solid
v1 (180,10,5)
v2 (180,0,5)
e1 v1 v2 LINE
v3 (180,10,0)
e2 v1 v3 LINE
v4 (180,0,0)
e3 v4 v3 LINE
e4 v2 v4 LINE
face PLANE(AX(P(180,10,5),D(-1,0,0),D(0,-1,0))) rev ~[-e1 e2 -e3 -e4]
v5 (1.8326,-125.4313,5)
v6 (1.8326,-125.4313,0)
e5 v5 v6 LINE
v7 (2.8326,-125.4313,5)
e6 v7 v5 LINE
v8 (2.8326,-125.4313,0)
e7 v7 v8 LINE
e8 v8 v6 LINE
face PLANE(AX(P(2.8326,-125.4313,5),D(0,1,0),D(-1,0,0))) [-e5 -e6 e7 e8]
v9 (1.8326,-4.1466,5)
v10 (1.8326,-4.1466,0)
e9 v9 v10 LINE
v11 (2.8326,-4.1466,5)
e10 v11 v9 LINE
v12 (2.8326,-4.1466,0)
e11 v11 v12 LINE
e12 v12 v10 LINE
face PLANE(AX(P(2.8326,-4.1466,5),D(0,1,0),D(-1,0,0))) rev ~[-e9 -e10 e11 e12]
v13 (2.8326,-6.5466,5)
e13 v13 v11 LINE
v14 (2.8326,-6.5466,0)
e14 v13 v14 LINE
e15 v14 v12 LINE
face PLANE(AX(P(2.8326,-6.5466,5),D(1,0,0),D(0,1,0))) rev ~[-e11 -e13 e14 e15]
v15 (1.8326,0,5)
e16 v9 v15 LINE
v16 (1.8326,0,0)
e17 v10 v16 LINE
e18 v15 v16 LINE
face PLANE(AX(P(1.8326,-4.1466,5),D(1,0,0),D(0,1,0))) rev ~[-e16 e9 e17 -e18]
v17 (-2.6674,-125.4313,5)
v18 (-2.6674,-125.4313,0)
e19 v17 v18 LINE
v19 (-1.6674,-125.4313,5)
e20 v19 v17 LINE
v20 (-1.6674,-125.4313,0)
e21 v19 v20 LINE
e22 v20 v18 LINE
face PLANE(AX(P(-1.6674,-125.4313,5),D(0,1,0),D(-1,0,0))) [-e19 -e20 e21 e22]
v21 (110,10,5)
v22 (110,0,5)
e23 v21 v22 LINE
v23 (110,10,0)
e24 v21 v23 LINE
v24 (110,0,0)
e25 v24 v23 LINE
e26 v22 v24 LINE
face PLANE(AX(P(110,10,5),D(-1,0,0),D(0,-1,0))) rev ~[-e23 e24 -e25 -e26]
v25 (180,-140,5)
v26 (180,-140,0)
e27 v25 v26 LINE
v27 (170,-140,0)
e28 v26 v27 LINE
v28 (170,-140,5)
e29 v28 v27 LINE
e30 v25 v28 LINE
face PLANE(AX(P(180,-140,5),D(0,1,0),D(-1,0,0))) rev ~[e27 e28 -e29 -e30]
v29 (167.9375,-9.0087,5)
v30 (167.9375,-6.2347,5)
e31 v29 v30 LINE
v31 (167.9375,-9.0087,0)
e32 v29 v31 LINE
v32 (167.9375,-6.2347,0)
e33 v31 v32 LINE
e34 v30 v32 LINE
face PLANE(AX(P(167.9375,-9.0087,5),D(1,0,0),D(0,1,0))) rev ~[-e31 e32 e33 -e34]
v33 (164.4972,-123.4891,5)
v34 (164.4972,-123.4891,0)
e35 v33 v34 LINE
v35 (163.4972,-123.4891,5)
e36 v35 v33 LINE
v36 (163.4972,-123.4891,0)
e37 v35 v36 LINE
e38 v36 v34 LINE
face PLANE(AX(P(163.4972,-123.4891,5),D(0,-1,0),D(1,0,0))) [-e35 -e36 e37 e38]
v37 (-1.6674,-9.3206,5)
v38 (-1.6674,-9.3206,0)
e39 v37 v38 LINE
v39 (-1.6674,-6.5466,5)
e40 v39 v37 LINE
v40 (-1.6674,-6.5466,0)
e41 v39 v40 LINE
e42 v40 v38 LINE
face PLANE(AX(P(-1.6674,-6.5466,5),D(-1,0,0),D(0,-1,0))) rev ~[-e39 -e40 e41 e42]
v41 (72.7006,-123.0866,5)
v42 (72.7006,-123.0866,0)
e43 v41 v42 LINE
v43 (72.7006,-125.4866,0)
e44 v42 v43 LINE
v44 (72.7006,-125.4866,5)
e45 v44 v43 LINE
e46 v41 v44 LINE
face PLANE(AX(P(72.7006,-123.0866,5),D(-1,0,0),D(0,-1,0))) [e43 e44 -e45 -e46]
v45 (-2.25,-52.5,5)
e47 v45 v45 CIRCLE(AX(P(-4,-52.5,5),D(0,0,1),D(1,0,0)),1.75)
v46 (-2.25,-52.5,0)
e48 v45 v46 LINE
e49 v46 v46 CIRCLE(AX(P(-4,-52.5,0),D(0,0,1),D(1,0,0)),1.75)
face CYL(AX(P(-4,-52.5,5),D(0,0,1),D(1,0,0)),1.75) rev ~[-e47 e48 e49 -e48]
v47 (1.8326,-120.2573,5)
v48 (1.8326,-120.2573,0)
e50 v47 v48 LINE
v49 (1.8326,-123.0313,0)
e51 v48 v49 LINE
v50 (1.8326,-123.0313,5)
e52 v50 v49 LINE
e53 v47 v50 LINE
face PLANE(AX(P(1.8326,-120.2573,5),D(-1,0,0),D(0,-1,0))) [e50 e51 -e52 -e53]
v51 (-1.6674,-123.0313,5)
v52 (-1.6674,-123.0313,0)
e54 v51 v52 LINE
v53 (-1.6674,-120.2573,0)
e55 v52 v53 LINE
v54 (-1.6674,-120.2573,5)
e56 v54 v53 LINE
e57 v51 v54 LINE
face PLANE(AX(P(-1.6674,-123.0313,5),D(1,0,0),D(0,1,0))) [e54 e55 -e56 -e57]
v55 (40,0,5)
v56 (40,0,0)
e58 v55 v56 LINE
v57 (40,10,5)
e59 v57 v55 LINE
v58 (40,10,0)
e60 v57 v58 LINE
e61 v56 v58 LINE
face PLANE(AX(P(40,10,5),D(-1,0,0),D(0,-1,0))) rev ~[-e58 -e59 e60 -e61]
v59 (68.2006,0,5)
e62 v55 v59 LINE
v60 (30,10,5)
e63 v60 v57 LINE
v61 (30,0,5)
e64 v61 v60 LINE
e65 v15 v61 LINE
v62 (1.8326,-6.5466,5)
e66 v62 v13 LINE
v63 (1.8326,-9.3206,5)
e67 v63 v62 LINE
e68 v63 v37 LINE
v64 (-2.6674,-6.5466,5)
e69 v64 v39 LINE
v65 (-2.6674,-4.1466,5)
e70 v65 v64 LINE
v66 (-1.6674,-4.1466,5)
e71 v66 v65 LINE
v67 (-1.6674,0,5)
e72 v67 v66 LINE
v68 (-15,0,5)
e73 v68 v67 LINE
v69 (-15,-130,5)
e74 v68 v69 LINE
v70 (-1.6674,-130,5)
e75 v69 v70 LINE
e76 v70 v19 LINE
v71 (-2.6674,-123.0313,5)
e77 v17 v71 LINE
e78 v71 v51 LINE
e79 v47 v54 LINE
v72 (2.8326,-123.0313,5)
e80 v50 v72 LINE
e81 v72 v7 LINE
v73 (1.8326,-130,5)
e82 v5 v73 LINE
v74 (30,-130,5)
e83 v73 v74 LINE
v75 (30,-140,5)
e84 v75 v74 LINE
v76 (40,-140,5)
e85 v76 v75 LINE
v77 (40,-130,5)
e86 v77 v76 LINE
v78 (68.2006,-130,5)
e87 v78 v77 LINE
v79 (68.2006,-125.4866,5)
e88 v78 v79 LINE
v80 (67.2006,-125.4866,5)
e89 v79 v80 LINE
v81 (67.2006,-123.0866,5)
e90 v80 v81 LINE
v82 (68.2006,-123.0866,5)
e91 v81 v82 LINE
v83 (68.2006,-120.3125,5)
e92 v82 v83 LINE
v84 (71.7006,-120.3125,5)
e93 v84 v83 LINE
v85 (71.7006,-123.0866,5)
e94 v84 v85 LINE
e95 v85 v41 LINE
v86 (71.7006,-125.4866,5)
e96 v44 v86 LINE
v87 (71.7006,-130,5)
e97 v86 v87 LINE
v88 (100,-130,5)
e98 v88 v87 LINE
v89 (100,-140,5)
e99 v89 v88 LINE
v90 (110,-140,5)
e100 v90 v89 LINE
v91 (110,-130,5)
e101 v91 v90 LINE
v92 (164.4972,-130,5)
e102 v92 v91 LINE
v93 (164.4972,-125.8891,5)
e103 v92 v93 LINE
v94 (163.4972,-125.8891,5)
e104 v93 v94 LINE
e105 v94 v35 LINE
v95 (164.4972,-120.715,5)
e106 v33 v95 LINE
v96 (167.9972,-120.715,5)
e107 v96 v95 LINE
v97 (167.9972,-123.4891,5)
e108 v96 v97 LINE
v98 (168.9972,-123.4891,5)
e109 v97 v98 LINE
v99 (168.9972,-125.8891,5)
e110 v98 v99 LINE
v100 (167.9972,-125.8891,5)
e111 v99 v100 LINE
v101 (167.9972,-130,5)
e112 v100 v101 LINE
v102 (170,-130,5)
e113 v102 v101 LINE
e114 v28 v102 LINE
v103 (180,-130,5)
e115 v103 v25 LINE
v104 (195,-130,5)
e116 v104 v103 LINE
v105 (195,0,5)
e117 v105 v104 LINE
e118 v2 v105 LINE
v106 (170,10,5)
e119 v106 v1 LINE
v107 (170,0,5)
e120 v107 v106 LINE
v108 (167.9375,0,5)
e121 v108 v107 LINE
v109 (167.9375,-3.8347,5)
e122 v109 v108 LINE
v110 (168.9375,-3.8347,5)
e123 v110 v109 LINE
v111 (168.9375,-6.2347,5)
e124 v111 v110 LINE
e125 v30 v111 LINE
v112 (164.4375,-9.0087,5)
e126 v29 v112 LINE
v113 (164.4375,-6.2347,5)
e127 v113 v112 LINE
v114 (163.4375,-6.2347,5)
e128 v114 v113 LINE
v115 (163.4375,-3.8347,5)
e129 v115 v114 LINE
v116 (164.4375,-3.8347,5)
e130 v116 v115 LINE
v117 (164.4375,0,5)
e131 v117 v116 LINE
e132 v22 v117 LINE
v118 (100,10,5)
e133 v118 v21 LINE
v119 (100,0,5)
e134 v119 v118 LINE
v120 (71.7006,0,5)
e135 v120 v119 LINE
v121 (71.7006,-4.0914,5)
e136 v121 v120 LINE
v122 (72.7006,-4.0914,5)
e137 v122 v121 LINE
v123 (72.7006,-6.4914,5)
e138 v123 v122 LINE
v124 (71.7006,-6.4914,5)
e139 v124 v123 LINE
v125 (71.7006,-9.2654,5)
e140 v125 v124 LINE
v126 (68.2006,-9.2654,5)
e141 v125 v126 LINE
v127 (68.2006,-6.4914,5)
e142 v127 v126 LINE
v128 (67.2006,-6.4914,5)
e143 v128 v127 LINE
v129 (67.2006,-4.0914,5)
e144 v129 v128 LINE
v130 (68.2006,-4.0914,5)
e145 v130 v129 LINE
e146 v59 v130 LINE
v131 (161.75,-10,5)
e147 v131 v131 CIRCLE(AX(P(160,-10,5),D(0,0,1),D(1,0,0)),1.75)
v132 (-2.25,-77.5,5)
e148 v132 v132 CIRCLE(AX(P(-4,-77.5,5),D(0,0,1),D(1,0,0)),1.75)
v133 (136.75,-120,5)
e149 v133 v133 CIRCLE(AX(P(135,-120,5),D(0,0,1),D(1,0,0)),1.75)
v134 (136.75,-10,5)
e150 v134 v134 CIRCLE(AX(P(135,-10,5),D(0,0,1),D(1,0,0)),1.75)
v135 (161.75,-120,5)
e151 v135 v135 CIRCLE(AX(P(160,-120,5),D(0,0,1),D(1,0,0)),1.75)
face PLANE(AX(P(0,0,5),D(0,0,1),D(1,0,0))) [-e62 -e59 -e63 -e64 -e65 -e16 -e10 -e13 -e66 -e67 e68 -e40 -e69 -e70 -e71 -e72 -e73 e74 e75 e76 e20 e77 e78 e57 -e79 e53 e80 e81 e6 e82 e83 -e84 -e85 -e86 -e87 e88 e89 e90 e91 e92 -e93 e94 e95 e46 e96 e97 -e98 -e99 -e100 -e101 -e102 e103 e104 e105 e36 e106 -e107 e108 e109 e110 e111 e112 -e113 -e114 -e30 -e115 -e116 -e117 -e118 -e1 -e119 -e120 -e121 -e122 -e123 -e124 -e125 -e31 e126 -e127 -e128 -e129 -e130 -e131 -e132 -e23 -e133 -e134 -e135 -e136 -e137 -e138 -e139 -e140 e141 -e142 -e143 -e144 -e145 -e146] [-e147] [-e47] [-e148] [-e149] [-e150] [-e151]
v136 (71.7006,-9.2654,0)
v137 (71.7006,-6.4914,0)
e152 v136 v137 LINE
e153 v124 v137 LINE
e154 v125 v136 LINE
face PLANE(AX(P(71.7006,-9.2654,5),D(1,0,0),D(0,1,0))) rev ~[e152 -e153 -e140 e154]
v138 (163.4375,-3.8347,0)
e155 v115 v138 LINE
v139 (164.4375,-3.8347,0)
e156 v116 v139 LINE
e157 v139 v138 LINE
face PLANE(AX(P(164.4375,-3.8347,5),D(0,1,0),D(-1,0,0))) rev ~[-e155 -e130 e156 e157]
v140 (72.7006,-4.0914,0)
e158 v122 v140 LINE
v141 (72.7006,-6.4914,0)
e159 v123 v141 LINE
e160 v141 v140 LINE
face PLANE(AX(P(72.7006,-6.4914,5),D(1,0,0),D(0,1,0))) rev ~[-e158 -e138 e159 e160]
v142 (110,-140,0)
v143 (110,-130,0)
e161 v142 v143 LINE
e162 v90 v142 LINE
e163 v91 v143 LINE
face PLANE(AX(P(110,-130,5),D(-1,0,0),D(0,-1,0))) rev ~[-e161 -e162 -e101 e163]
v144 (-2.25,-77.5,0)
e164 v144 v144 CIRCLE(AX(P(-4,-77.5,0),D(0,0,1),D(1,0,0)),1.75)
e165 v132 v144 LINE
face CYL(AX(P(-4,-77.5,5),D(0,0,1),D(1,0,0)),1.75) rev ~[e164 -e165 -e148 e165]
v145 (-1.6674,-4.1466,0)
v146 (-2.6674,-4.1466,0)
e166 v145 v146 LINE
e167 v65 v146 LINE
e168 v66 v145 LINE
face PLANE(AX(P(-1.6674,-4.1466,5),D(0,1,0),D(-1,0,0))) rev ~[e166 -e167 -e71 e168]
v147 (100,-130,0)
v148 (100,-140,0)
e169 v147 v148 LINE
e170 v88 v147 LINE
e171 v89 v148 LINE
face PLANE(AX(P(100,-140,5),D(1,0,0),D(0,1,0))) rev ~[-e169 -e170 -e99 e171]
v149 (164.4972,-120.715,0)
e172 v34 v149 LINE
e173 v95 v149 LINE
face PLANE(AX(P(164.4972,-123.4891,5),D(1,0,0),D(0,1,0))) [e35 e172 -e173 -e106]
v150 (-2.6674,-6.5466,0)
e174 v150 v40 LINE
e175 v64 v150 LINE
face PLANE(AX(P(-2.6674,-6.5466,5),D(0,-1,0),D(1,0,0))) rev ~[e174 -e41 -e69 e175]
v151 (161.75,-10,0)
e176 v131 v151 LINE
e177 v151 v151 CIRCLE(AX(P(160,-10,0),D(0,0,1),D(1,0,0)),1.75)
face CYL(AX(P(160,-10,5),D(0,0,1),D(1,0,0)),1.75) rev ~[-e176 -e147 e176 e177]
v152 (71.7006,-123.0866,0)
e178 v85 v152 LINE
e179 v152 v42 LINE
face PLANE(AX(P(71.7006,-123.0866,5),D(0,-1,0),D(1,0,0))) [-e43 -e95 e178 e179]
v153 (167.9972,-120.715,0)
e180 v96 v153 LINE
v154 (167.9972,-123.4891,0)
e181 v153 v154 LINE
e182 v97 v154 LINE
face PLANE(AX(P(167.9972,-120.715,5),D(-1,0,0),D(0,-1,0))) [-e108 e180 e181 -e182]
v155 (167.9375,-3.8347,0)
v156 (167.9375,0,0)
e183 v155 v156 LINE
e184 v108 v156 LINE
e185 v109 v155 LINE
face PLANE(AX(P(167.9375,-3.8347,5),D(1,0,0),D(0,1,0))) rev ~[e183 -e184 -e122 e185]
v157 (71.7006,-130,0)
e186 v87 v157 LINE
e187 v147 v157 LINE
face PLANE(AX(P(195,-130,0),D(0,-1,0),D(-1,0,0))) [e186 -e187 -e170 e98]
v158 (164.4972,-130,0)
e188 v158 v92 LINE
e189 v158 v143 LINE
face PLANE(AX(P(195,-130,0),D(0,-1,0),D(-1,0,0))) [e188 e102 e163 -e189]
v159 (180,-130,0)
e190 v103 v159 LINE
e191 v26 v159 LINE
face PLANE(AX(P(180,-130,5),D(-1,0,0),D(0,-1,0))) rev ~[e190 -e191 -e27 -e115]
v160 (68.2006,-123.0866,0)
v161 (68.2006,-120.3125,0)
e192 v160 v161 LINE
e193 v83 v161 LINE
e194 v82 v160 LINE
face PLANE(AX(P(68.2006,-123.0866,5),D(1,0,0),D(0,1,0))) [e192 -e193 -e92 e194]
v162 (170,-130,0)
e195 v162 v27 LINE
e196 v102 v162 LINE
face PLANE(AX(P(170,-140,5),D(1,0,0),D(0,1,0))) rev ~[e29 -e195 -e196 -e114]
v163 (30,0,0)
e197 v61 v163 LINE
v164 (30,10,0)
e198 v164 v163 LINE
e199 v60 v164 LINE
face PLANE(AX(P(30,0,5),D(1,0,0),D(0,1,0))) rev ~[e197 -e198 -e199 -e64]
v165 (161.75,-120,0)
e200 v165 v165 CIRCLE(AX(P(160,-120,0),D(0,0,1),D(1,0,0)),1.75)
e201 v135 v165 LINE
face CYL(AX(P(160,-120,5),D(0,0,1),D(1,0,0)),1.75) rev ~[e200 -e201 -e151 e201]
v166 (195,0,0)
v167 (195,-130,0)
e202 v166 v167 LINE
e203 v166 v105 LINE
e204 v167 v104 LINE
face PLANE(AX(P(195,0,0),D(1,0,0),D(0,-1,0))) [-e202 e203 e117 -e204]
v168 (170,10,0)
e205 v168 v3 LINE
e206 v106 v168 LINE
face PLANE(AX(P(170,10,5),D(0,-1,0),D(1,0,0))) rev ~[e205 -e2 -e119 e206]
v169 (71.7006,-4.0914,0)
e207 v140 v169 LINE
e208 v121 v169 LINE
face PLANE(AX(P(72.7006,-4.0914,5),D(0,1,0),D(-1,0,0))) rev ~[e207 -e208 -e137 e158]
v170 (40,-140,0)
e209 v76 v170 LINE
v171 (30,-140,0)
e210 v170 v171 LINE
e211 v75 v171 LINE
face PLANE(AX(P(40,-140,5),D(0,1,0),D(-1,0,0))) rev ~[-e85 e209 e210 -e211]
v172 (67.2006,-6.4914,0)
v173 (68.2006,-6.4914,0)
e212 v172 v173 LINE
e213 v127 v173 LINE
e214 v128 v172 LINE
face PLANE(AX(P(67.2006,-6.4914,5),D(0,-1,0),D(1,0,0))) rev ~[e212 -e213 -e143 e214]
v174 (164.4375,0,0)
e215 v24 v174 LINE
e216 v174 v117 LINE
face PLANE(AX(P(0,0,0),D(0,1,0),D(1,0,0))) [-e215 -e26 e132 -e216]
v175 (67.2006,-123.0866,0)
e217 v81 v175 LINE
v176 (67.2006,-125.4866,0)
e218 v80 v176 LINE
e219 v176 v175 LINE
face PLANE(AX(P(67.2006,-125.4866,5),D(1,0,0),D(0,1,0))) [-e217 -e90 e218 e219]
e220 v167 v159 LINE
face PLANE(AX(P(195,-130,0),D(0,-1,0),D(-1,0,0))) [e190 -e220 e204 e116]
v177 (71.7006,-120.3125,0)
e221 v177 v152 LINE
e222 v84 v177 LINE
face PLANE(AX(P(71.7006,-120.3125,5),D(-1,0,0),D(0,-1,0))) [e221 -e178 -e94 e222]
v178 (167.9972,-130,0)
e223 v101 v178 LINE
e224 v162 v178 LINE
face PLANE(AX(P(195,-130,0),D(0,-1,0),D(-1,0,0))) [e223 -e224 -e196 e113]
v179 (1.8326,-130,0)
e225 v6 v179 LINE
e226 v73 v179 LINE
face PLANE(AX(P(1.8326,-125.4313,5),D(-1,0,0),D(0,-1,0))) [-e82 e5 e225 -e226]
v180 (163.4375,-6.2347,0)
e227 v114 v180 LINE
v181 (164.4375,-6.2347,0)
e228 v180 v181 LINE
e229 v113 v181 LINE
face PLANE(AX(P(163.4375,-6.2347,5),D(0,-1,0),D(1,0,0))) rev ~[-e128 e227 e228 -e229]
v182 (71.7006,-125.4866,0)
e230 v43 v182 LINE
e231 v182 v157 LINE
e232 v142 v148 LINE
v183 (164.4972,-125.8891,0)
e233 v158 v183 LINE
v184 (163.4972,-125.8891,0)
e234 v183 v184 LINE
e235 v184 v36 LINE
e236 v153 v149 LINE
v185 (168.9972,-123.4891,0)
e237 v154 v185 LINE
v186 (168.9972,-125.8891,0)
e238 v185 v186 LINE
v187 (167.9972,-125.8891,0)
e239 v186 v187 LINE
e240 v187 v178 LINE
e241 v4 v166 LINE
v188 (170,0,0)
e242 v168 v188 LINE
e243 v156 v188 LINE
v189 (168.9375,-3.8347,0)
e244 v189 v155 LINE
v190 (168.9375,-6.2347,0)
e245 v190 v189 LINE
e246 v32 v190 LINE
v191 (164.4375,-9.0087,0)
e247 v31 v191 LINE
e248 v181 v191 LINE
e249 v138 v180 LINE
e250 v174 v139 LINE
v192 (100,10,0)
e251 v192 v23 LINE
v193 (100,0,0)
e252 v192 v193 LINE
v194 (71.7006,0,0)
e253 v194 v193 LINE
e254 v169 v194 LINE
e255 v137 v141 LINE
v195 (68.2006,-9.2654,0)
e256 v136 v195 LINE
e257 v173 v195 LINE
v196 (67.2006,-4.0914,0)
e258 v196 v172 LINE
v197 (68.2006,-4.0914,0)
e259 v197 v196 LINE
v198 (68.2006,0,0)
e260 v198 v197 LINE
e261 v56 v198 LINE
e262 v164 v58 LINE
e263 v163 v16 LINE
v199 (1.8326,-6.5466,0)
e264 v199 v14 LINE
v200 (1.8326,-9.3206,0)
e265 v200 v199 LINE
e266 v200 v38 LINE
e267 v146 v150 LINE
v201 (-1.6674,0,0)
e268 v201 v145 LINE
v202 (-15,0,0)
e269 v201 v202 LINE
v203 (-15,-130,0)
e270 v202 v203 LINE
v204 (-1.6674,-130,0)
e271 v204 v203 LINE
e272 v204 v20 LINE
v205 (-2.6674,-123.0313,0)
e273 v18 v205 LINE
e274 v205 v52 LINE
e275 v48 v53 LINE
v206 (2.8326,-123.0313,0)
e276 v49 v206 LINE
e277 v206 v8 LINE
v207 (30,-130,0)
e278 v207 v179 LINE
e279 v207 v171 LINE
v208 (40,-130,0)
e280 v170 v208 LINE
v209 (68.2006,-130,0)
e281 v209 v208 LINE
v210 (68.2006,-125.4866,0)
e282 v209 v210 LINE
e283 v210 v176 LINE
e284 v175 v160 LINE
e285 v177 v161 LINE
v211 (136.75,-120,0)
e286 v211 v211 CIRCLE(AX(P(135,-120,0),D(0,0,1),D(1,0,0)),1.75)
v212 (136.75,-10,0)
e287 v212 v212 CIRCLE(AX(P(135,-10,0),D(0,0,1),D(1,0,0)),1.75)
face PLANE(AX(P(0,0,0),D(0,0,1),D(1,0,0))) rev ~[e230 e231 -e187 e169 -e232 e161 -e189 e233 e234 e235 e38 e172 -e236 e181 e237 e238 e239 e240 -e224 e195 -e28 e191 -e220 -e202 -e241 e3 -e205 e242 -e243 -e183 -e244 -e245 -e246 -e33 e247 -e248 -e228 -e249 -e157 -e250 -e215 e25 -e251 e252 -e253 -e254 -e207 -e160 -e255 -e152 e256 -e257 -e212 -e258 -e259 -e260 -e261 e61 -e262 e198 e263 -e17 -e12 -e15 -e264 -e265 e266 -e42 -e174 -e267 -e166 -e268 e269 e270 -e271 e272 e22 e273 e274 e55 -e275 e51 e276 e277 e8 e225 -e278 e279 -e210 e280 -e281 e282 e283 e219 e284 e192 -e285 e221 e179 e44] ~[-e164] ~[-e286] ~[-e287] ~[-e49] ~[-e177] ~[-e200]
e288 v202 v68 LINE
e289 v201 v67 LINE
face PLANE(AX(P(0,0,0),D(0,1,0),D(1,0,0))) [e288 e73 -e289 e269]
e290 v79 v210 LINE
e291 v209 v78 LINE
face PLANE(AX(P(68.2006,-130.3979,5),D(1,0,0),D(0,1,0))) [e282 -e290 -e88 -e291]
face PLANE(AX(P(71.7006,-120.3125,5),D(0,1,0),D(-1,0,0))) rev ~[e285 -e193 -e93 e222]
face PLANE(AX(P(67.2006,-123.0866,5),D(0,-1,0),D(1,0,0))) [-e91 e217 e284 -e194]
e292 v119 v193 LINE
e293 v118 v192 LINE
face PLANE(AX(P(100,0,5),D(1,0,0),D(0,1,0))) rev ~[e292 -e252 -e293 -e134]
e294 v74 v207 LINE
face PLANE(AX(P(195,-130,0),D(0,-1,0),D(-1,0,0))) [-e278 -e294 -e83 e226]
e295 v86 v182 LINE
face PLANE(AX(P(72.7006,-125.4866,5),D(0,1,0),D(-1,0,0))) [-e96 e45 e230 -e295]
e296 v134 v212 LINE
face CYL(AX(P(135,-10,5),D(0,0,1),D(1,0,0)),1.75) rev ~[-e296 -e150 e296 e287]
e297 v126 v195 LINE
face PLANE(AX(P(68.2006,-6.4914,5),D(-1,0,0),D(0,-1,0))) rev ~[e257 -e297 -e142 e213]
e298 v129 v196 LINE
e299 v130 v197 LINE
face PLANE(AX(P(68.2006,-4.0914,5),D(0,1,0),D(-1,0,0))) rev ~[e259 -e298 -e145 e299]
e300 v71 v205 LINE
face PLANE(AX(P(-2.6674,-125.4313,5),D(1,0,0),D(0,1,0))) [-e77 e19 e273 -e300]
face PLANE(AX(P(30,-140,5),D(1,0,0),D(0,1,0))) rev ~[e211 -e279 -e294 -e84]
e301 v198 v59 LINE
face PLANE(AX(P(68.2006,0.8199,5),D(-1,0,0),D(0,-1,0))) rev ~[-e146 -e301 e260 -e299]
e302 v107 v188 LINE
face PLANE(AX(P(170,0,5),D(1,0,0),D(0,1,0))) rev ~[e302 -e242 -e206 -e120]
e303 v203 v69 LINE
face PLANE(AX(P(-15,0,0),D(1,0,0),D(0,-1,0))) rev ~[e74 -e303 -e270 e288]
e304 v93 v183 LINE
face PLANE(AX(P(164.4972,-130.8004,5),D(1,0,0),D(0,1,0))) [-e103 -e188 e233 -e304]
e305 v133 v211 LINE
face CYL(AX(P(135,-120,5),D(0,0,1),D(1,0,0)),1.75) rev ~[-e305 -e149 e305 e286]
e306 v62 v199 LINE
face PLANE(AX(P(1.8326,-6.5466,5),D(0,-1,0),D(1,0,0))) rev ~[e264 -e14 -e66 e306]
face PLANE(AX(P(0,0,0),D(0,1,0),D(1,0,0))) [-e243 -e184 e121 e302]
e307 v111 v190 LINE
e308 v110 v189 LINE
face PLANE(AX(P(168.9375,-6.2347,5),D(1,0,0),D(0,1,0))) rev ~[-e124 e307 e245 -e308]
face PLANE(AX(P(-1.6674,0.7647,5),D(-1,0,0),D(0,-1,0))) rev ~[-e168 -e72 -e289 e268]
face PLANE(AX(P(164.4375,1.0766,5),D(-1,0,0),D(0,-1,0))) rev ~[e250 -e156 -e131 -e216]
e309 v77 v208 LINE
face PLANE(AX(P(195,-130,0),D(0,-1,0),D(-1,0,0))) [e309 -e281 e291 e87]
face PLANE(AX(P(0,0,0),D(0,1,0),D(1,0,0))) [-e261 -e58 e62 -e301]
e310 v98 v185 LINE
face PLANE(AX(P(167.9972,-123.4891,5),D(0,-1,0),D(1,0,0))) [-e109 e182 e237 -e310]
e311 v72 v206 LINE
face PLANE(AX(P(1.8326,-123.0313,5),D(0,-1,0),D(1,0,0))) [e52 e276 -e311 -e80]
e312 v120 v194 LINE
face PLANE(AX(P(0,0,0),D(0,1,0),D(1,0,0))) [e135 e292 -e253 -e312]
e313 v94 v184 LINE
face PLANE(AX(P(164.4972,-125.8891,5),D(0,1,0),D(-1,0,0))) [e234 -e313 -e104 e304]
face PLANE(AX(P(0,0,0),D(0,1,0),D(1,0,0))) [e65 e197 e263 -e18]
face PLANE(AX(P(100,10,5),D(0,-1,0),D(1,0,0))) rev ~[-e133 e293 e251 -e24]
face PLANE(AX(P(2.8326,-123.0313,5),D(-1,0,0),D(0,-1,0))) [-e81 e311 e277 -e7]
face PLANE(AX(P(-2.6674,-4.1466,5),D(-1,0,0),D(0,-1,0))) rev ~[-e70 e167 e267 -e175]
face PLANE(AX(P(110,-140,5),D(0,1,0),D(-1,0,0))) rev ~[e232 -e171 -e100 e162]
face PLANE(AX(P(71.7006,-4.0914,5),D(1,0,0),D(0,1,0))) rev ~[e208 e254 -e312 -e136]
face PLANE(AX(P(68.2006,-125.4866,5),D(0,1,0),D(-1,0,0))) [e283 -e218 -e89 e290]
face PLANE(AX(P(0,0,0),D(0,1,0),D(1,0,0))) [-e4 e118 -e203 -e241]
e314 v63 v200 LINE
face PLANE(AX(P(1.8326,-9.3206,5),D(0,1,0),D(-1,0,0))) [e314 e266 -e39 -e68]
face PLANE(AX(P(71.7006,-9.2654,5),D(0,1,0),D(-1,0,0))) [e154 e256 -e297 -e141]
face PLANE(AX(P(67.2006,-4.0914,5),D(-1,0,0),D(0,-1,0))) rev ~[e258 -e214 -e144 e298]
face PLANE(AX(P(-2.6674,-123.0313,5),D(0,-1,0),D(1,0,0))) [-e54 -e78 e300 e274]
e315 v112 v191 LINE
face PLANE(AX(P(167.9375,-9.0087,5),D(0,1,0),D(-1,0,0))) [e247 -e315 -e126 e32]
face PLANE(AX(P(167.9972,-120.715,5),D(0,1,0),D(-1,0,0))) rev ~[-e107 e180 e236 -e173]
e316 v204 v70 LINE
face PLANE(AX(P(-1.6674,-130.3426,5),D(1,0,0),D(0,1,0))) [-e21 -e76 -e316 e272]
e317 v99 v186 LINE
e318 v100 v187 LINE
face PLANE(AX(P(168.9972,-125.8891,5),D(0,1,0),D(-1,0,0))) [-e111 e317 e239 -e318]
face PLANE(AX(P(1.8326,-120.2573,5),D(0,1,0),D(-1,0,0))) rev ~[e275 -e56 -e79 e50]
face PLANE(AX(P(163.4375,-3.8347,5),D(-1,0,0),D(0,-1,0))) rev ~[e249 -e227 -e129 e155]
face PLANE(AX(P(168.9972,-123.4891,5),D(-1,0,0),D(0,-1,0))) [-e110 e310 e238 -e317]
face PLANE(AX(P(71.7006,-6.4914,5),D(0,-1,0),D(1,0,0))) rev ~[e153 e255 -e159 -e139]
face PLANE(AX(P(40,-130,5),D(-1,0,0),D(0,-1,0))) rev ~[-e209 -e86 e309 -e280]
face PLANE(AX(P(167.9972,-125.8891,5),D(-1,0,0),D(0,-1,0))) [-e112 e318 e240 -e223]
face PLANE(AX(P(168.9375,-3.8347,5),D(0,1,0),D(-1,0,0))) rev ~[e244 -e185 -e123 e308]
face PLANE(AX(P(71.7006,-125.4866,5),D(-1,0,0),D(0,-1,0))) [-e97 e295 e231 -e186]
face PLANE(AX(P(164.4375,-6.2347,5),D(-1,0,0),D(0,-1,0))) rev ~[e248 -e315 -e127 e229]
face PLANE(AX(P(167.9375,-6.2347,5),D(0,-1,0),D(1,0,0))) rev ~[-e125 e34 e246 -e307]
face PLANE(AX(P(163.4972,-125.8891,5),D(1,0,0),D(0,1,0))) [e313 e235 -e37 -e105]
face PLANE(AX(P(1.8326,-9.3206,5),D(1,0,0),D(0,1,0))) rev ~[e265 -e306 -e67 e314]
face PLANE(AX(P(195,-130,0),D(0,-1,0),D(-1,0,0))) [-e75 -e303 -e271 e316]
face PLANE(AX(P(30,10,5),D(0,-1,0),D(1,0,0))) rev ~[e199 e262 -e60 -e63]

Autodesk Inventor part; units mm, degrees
ref_plane "YZ Plane" through (0, 0, 0) normal (1, 0, 0) x (0, 1, 0)
ref_plane "XZ Plane" through (0, 0, 0) normal (0, 1, 0) x (-1, 0, 0)
ref_plane "XY Plane" through (0, 0, 0) normal (0, 0, 1) x (1, 0, 0)
sketch "Boceto1" plane through (0, 0, 0) normal (0, 0, 1) x (1, 0, 0)
  line L0 (0, 0) -> (195, 0)
  line L1 (195, 0) -> (195, -130)
  line L2 (195, -130) -> (0, -130)
  line L3 (-15, 0) -> (-15, -130)
  line L4 (0, -130) -> (-15, -130)
  line L5 (0, 0) -> (-15, 0)
  dimension "d1" = 130
extrude "Extrusión1" add sketch "Boceto1" along normal blind 5
sketch "Boceto2" plane through (0, 0, 5) normal (0, 0, 1) x (1, 0, 0)
  line L0 (-15, 0) -> (195, 0) projected
  line L1 (195, -130) -> (-15, -130) projected
  line L2 (30, 0) -> (40, 0)
  line L3 (100, 0) -> (110, 0)
  line L4 (170, 0) -> (180, 0)
  line L5 (170, -130) -> (180, -130)
  line L6 (100, -130) -> (110, -130)
  line L7 (30, -130) -> (40, -130)
  line L8 (40, 5) -> (40, 0)
  line L9 (40, -130) -> (40, -135)
  line L10 (30, -135) -> (30, -130)
  line L11 (30, 0) -> (30, 5)
  line L12 (110, 5) -> (110, 0)
  line L13 (110, -130) -> (110, -135)
  line L14 (100, -135) -> (100, -130)
  line L15 (100, 0) -> (100, 5)
  line L16 (180, 5) -> (180, 0)
  line L17 (180, -130) -> (180, -135)
  line L18 (170, -135) -> (170, -130)
  line L19 (170, 0) -> (170, 5)
  line L20 (30, 5) -> (30, 10)
  line L21 (40, 10) -> (40, 5)
  line L22 (100, 5) -> (100, 10)
  line L23 (110, 10) -> (110, 5)
  line L24 (170, 5) -> (170, 10)
  line L25 (180, 10) -> (180, 5)
  line L26 (40, -135) -> (40, -140)
  line L27 (30, -140) -> (30, -135)
  line L28 (110, -135) -> (110, -140)
  line L29 (100, -140) -> (100, -135)
  line L30 (180, -135) -> (180, -140)
  line L31 (170, -140) -> (170, -135)
  line L32 (170, 10) -> (180, 10)
  line L33 (30, 10) -> (40, 10)
  line L34 (100, 10) -> (110, 10)
  line L35 (180, -140) -> (170, -140)
  line L36 (110, -140) -> (100, -140)
  line L37 (40, -140) -> (30, -140)
extrude "Extrusión2" add sketch "Boceto2" against normal blind 5
sketch "Boceto3" plane through (0, 0, 5) normal (0, 0, 1) x (1, 0, 0)
  line L0 (195, 0) -> (195, -130) projected
  line L1 (180, 0) -> (195, 0) projected
  line L2 (-15, -130) -> (-15, 0) projected
  circle A0 centre (135, -120) radius 1.75
  circle A1 centre (160, -120) radius 1.75
  circle A2 centre (135, -10) radius 1.75
  circle A3 centre (160, -10) radius 1.75
  circle A4 centre (-4, -52.5) radius 1.75
  circle A5 centre (-4, -77.5) radius 1.75
  point P0 (30, 0)
  point P1 (30, -130)
  point P2 (0, 0)
  dimension "d20" = 3.5
  dimension "d21" = 3.5
  dimension "d22" = 3.5
  dimension "d23" = 3.5
  dimension "d24" = 3.5
  dimension "d25" = 3.5
  dimension "d26" = 25
  dimension "d27" = 25
  dimension "d28" = 25
  dimension "d29" = 10
  dimension "d30" = 10
  dimension "d31" = 150
  dimension "d32" = 150
  dimension "d33" = 52.5
  dimension "d34" = 199
extrude "Extrusión3" cut sketch "Boceto3" against normal blind 10
sketch "Boceto4" plane through (0, 0, 5) normal (0, 0, 1) x (1, 0, 0)
  line L0 (-1.6674, -130.3426) -> (-1.6674, -125.4313)
  line L1 (1.8326, -130.3426) -> (-1.6674, -130.3426)
  line L2 (1.8326, -125.4313) -> (1.8326, -130.3426)
  line L3 (-1.6674, -125.4313) -> (-2.6674, -125.4313)
  line L4 (-2.6674, -123.0313) -> (-1.6674, -123.0313)
  line L5 (-1.6674, -123.0313) -> (-1.6674, -120.2573)
  line L6 (1.8326, -120.2573) -> (1.8326, -123.0313)
  line L7 (2.8326, -125.4313) -> (1.8326, -125.4313)
  line L8 (2.8326, -123.0313) -> (2.8326, -125.4313)
  line L9 (1.8326, -123.0313) -> (2.8326, -123.0313)
  line L10 (1.8326, -120.2573) -> (-1.6674, -120.2573)
  line L11 (-2.6674, -125.4313) -> (-2.6674, -123.0313)
  line L12 (167.9972, -120.715) -> (164.4972, -120.715)
  line L13 (167.9972, -120.715) -> (167.9972, -123.4891)
  line L14 (164.4972, -123.4891) -> (164.4972, -120.715)
  line L15 (167.9972, -123.4891) -> (168.9972, -123.4891)
  line L16 (168.9972, -123.4891) -> (168.9972, -125.8891)
  line L17 (163.4972, -125.8891) -> (163.4972, -123.4891)
  line L18 (164.4972, -125.8891) -> (163.4972, -125.8891)
  line L19 (168.9972, -125.8891) -> (167.9972, -125.8891)
  line L20 (163.4972, -123.4891) -> (164.4972, -123.4891)
  line L21 (164.4972, -130.8004) -> (164.4972, -125.8891)
  line L22 (167.9972, -130.8004) -> (164.4972, -130.8004)
  line L23 (167.9972, -125.8891) -> (167.9972, -130.8004)
  line L24 (71.7006, -120.3125) -> (68.2006, -120.3125)
  line L25 (71.7006, -120.3125) -> (71.7006, -123.0866)
  line L26 (68.2006, -123.0866) -> (68.2006, -120.3125)
  line L27 (71.7006, -123.0866) -> (72.7006, -123.0866)
  line L28 (72.7006, -123.0866) -> (72.7006, -125.4866)
  line L29 (67.2006, -125.4866) -> (67.2006, -123.0866)
  line L30 (68.2006, -125.4866) -> (67.2006, -125.4866)
  line L31 (72.7006, -125.4866) -> (71.7006, -125.4866)
  line L32 (67.2006, -123.0866) -> (68.2006, -123.0866)
  line L33 (68.2006, -130.3979) -> (68.2006, -125.4866)
  line L34 (71.7006, -130.3979) -> (68.2006, -130.3979)
  line L35 (71.7006, -125.4866) -> (71.7006, -130.3979)
  line L36 (1.8326, -9.3206) -> (-1.6674, -9.3206)
  line L37 (1.8326, -9.3206) -> (1.8326, -6.5466)
  line L38 (-1.6674, -6.5466) -> (-1.6674, -9.3206)
  line L39 (1.8326, -6.5466) -> (2.8326, -6.5466)
  line L40 (2.8326, -6.5466) -> (2.8326, -4.1466)
  line L41 (-2.6674, -4.1466) -> (-2.6674, -6.5466)
  line L42 (-1.6674, -4.1466) -> (-2.6674, -4.1466)
  line L43 (2.8326, -4.1466) -> (1.8326, -4.1466)
  line L44 (-2.6674, -6.5466) -> (-1.6674, -6.5466)
  line L45 (-1.6674, 0.7647) -> (-1.6674, -4.1466)
  line L46 (1.8326, 0.7647) -> (-1.6674, 0.7647)
  line L47 (1.8326, -4.1466) -> (1.8326, 0.7647)
  line L48 (168.9375, -3.8347) -> (167.9375, -3.8347)
  line L49 (167.9375, -3.8347) -> (167.9375, 1.0766)
  line L50 (167.9375, 1.0766) -> (164.4375, 1.0766)
  line L51 (167.9375, -6.2347) -> (168.9375, -6.2347)
  line L52 (167.9375, -9.0087) -> (167.9375, -6.2347)
  line L53 (164.4375, 1.0766) -> (164.4375, -3.8347)
  line L54 (164.4375, -3.8347) -> (163.4375, -3.8347)
  line L55 (163.4375, -3.8347) -> (163.4375, -6.2347)
  line L56 (163.4375, -6.2347) -> (164.4375, -6.2347)
  line L57 (164.4375, -6.2347) -> (164.4375, -9.0087)
  line L58 (167.9375, -9.0087) -> (164.4375, -9.0087)
  line L59 (168.9375, -6.2347) -> (168.9375, -3.8347)
  line L60 (72.7006, -6.4914) -> (72.7006, -4.0914)
  line L61 (72.7006, -4.0914) -> (71.7006, -4.0914)
  line L62 (71.7006, -6.4914) -> (72.7006, -6.4914)
  line L63 (71.7006, -4.0914) -> (71.7006, 0.8199)
  line L64 (71.7006, -9.2654) -> (71.7006, -6.4914)
  line L65 (71.7006, 0.8199) -> (68.2006, 0.8199)
  line L66 (68.2006, 0.8199) -> (68.2006, -4.0914)
  line L67 (71.7006, -9.2654) -> (68.2006, -9.2654)
  line L68 (68.2006, -6.4914) -> (68.2006, -9.2654)
  line L69 (68.2006, -4.0914) -> (67.2006, -4.0914)
  line L70 (67.2006, -4.0914) -> (67.2006, -6.4914)
  line L71 (67.2006, -6.4914) -> (68.2006, -6.4914)
  line L72 (170, 10) -> (170, 0) projected
  point P0 (0, 0)
  dimension "d37" = 3.5
  dimension "d38" = 3.5
  dimension "d39" = 3.5
  dimension "d45" = 2.0625
extrude "Extrusión4" cut sketch "Boceto4" against normal blind 10
properties part number "pieza central base superior"
